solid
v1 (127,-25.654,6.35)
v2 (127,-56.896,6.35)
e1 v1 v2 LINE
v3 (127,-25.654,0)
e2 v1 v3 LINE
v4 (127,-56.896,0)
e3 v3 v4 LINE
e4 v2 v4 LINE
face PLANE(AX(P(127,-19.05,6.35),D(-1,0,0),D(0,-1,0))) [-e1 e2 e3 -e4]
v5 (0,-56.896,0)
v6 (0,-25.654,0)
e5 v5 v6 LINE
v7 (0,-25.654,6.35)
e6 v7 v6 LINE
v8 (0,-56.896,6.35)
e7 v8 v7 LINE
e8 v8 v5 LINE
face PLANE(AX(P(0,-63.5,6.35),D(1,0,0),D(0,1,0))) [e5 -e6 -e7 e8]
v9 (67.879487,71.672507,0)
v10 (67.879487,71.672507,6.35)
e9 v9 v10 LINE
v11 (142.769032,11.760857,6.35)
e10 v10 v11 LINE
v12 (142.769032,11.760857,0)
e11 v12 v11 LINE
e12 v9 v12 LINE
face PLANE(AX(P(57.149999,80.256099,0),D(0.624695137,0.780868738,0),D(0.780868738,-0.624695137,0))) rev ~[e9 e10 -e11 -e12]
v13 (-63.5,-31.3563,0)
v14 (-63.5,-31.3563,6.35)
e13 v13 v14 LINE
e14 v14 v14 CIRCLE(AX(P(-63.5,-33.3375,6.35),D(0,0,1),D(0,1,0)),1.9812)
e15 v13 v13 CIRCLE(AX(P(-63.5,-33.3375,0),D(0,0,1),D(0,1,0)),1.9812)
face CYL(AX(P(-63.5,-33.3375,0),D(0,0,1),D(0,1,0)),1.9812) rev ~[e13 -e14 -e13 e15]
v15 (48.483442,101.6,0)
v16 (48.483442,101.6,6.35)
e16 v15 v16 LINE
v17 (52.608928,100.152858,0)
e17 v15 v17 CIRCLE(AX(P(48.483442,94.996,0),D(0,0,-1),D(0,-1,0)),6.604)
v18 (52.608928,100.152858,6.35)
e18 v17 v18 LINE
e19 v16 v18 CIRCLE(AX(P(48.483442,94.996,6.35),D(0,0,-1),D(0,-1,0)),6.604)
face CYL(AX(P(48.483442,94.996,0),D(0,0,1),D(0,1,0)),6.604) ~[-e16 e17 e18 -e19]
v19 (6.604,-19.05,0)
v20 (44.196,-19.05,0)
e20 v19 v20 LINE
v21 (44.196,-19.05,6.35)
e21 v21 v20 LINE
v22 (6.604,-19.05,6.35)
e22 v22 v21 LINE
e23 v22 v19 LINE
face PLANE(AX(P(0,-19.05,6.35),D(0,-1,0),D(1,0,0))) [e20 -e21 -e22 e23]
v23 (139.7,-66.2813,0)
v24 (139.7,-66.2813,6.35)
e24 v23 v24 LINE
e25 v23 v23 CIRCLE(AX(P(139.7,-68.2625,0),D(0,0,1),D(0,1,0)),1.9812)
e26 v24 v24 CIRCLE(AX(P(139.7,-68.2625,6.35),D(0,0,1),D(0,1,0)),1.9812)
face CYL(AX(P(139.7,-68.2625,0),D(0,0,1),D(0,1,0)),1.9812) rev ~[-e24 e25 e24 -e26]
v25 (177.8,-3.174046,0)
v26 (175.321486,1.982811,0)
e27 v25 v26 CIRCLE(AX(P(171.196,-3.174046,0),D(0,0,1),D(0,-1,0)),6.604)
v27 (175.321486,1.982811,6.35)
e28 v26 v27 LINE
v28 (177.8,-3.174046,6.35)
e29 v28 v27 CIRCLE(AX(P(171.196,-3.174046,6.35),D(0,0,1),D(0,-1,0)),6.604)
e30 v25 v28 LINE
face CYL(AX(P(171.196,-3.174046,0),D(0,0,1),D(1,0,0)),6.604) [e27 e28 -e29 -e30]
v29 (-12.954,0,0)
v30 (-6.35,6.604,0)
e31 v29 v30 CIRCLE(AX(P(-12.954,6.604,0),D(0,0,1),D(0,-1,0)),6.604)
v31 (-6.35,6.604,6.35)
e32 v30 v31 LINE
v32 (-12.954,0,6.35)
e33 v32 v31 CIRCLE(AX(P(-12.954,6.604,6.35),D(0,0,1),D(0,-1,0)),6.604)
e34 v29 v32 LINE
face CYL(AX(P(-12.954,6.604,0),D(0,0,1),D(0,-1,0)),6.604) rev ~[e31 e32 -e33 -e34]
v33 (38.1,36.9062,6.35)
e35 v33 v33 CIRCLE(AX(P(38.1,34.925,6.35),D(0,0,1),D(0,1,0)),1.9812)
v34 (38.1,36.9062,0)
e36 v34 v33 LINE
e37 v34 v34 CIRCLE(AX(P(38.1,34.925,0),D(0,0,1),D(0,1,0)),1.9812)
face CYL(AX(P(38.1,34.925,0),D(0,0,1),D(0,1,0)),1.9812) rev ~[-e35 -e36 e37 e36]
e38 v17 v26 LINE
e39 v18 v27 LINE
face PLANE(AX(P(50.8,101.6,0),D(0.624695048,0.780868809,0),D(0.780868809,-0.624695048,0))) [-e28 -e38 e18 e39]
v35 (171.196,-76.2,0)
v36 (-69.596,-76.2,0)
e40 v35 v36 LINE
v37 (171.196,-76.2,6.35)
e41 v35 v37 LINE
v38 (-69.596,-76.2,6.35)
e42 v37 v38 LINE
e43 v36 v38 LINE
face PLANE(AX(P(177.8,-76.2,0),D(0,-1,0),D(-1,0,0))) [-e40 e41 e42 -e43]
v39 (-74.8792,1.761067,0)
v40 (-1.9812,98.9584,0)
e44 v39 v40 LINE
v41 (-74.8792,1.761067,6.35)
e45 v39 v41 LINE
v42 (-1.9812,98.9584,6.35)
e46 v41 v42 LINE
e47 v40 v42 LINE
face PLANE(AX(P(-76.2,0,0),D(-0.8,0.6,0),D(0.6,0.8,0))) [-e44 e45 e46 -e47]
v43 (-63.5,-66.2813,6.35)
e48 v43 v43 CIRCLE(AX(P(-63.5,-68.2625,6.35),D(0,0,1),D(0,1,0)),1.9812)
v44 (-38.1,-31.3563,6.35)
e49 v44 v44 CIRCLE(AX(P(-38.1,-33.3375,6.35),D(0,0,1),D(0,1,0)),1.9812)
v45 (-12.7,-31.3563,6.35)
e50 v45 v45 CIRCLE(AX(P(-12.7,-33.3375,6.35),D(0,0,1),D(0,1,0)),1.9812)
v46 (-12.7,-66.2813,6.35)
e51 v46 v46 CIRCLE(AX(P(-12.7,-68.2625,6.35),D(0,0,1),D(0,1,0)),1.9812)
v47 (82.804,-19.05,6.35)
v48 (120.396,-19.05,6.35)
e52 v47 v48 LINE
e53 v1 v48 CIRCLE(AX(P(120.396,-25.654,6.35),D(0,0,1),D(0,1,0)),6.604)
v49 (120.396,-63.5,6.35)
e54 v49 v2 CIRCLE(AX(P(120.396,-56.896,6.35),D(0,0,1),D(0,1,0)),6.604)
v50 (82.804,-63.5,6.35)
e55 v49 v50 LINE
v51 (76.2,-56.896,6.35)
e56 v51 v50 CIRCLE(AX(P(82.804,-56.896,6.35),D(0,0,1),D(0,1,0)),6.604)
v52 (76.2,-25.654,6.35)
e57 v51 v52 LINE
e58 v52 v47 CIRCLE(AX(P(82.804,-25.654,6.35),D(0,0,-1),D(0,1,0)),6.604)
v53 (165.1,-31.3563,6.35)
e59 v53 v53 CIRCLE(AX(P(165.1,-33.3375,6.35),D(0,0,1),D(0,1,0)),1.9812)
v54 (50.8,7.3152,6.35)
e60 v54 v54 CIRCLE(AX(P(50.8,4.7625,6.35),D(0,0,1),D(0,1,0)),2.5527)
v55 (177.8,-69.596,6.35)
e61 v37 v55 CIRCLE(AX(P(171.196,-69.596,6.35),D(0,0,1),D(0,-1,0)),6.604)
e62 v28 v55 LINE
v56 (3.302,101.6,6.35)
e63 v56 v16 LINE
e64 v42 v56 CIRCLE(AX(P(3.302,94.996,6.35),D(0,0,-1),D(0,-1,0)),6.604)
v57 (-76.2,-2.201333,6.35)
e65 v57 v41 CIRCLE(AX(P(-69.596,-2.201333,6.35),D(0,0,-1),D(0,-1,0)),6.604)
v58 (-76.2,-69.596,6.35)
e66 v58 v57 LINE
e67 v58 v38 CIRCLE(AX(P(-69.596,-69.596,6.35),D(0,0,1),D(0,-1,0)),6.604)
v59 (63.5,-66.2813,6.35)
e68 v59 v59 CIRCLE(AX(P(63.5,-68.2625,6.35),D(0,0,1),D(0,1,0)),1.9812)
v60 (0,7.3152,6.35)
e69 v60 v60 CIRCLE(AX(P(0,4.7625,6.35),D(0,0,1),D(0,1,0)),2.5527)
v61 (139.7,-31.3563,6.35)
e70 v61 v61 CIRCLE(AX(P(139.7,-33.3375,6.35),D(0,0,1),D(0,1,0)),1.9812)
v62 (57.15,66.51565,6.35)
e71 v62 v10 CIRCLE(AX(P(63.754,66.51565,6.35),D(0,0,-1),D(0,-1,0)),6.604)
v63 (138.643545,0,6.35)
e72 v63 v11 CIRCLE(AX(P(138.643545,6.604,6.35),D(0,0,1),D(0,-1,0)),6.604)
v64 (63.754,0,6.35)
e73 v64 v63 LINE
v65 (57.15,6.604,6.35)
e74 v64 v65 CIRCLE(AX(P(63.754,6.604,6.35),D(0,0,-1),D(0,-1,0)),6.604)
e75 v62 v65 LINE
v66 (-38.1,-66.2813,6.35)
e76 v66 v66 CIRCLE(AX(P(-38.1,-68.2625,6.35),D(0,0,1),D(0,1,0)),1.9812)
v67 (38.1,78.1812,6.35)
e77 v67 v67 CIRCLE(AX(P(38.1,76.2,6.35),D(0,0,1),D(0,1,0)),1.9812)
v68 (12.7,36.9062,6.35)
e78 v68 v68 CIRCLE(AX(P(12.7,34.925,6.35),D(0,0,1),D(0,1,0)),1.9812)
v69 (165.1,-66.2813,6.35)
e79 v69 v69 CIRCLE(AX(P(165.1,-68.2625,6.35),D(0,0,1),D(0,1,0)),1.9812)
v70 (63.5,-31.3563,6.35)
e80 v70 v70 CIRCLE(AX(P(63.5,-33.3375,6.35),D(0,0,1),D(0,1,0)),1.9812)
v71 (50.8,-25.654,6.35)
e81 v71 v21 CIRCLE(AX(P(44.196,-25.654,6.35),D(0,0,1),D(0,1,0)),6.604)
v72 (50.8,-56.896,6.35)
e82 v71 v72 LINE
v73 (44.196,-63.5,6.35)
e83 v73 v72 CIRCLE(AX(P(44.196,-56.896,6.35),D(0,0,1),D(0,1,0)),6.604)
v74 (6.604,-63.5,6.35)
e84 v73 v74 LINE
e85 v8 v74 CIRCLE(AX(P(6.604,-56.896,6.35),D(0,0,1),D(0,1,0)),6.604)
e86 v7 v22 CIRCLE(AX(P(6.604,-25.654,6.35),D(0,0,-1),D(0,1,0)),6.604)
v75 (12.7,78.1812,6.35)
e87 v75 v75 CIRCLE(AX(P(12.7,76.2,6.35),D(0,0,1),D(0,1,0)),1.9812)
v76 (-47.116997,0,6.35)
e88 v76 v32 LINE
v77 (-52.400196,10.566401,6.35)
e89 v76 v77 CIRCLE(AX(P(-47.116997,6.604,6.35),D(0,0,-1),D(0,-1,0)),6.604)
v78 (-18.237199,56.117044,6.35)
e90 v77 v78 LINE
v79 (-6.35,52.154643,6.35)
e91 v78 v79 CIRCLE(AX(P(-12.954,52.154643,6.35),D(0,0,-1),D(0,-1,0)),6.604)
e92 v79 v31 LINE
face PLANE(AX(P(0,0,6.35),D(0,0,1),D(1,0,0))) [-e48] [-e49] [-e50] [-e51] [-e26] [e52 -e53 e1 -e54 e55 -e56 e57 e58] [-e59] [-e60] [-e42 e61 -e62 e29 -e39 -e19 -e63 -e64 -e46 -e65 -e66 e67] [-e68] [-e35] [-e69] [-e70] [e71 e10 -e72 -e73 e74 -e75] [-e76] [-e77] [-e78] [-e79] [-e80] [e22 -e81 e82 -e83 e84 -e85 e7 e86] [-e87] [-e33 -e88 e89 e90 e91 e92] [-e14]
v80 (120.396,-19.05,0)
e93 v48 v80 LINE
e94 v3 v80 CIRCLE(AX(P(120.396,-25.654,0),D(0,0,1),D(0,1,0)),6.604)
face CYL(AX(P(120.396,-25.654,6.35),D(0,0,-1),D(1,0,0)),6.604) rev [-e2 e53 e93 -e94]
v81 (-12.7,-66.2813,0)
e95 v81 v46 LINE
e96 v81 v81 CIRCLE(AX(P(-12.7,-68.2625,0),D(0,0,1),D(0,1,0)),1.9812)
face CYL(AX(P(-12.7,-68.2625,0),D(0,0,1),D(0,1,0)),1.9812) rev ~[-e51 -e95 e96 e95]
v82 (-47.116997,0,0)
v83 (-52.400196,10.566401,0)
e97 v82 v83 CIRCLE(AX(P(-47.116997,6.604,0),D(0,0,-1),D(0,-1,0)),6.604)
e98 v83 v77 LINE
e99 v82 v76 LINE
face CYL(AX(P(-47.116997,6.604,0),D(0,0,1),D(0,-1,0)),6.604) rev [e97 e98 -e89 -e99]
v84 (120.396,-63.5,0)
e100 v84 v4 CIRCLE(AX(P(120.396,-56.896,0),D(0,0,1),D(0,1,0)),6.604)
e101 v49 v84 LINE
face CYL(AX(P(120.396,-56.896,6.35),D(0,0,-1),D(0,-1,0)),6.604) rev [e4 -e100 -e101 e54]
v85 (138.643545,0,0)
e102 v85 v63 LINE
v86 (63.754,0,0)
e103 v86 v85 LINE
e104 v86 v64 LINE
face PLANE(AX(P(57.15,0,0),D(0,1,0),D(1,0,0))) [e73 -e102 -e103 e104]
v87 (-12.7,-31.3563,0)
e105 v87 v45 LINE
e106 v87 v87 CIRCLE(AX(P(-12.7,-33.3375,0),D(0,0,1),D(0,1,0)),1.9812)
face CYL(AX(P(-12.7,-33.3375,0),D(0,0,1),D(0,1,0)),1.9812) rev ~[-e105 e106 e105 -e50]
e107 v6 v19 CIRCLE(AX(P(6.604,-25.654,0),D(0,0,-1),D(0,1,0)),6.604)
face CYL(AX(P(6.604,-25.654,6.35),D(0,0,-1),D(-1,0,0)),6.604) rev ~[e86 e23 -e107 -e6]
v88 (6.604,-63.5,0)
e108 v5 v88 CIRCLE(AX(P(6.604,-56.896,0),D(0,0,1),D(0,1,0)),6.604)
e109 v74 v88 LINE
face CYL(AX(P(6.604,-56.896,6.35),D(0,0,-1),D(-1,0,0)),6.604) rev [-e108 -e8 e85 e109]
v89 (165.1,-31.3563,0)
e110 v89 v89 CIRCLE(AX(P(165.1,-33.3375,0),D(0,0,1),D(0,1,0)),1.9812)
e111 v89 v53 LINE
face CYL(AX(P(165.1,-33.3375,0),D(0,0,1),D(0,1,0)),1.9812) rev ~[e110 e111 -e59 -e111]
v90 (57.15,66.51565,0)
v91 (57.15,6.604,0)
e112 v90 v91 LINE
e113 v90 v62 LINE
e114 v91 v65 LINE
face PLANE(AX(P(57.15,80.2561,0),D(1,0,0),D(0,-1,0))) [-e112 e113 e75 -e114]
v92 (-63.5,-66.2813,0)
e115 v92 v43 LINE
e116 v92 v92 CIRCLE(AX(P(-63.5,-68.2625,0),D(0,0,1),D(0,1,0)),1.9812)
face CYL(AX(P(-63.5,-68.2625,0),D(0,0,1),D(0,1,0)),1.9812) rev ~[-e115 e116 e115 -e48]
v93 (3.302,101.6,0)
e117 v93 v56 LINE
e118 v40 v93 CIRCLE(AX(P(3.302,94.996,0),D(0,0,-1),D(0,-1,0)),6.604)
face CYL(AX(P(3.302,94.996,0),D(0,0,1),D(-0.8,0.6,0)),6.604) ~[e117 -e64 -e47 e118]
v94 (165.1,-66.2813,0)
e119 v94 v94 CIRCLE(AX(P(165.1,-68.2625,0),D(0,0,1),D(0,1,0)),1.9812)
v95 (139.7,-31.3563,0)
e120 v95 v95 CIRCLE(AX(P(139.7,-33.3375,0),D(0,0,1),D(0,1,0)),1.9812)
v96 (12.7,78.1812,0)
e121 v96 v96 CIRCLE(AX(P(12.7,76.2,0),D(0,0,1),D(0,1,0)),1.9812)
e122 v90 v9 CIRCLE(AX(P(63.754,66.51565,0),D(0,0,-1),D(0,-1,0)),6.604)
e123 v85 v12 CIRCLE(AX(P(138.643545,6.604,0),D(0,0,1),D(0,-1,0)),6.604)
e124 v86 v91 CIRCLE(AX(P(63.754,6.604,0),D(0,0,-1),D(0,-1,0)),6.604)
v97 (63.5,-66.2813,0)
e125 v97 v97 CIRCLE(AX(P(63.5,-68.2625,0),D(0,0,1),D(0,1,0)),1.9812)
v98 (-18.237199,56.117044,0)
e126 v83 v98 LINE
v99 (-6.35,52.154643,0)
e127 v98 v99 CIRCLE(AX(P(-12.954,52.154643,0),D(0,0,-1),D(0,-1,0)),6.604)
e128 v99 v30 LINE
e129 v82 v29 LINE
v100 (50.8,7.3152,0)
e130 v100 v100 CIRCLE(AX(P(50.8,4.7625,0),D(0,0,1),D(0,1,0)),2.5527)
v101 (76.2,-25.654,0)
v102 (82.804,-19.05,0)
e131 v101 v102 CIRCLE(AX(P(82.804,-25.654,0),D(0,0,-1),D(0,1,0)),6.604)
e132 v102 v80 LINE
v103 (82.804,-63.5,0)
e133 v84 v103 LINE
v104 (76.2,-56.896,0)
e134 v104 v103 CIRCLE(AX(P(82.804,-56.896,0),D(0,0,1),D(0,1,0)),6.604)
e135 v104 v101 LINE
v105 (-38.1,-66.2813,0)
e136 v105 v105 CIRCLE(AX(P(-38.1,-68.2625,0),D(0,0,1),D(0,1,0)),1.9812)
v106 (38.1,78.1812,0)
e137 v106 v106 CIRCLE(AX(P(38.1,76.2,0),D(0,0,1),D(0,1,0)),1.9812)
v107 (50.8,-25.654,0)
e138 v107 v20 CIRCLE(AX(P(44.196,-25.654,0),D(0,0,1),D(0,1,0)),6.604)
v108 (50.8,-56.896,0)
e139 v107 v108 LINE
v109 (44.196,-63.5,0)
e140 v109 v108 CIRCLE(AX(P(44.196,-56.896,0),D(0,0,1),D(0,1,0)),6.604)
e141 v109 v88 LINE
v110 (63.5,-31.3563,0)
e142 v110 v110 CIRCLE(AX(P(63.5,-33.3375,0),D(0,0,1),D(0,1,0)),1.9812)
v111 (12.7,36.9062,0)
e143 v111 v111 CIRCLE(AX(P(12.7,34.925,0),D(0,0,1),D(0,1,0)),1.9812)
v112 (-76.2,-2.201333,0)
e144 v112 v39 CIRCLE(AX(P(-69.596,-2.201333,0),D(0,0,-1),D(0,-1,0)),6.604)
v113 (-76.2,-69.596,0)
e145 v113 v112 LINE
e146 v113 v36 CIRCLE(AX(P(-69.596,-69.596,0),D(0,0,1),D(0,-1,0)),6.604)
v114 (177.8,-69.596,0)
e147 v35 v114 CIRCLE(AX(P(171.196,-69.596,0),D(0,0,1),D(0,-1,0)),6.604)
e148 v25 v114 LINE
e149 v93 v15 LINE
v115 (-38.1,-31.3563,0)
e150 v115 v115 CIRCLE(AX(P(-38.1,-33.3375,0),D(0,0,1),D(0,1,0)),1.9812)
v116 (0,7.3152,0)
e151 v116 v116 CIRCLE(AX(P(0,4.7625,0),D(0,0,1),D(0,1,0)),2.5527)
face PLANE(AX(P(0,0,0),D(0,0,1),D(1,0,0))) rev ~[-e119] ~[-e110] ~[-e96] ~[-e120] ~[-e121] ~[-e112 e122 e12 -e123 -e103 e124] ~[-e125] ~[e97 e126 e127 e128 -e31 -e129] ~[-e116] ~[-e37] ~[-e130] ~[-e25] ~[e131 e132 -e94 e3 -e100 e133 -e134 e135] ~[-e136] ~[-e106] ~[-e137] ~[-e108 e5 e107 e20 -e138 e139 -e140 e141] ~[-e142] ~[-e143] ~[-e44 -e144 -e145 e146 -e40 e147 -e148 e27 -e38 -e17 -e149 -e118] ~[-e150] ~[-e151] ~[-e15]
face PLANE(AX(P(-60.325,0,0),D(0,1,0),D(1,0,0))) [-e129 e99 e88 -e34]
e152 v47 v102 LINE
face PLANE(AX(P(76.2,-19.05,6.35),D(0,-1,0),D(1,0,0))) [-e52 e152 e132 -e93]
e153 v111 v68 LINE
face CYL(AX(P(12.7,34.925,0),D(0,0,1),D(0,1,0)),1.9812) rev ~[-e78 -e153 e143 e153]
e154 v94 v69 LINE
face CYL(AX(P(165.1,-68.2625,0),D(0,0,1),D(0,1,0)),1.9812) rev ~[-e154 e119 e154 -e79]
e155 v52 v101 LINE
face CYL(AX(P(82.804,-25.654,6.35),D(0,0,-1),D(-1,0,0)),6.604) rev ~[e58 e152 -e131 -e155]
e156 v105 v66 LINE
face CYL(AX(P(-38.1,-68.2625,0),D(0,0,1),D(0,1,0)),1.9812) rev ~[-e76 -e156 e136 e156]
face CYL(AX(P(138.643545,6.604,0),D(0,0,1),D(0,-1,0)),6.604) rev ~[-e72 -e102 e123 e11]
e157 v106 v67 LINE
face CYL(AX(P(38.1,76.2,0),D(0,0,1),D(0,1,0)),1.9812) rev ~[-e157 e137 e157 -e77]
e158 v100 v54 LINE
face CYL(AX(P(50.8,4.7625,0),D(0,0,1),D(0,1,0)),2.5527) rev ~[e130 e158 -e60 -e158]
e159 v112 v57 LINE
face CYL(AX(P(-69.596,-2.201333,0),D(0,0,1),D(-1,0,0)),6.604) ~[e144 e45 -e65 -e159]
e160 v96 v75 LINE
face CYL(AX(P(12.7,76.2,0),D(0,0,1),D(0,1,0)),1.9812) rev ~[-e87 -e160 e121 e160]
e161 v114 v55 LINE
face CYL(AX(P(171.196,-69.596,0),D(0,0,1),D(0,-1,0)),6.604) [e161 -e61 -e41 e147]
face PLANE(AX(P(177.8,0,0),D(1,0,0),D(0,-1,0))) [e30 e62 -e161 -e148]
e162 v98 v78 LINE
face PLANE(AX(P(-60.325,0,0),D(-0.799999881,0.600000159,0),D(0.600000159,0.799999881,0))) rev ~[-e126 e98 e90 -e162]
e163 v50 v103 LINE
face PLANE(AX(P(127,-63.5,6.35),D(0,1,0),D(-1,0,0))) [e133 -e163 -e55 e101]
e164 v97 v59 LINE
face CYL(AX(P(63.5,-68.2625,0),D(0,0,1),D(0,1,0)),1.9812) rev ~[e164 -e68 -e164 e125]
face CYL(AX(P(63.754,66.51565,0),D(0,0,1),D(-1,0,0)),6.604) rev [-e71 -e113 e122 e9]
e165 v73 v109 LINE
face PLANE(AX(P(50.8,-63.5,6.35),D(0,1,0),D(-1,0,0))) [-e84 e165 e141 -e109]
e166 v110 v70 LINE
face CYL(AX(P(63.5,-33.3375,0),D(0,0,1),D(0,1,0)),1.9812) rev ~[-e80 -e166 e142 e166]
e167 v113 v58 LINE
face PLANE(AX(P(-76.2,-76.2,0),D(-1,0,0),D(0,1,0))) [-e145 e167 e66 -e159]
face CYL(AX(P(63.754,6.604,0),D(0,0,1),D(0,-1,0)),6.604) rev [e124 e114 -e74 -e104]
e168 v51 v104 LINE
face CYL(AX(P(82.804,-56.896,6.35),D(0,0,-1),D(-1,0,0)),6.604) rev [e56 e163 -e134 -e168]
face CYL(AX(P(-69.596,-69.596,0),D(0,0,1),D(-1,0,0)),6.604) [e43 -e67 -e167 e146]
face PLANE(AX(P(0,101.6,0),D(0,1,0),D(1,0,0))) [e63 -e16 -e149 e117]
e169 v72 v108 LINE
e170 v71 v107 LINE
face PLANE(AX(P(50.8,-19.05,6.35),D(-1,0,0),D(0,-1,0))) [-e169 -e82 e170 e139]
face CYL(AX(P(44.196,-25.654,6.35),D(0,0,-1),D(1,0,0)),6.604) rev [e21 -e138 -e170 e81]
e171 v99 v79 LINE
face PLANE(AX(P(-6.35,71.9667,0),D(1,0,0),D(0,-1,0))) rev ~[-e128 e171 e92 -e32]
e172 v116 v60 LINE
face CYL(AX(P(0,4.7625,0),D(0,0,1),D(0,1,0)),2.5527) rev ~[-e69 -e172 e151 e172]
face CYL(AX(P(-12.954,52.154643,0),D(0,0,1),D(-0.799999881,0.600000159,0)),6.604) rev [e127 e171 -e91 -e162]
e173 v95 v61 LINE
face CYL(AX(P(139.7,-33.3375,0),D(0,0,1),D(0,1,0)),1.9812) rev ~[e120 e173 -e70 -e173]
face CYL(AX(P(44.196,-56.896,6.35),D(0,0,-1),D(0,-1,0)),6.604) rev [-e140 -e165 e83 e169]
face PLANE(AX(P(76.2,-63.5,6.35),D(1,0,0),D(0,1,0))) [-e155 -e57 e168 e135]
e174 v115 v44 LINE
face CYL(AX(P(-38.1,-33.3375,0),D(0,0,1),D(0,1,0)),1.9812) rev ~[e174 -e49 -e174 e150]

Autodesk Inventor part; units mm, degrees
ref_plane "YZ Plane" through (0, 0, 0) normal (1, 0, 0) x (0, 1, 0)
ref_plane "XZ Plane" through (0, 0, 0) normal (0, 1, 0) x (-1, 0, 0)
ref_plane "XY Plane" through (0, 0, 0) normal (0, 0, 1) x (1, 0, 0)
sketch "Sketch1" plane through (0, 0, 0) normal (0, 0, 1) x (1, 0, 0)
  line L0 (0, 0) -> (50.8, 0) construction
  line L1 (50.8, 0) -> (50.8, 203.2) construction
  line L2 (50.8, 203.2) -> (0, 203.2) construction
  line L3 (0, 203.2) -> (0, 0) construction
  line L4 (-76.2, 0) -> (177.8, 0) construction
  line L5 (177.8, 0) -> (177.8, -76.2) construction
  line L6 (177.8, -76.2) -> (-76.2, -76.2) construction
  line L7 (-76.2, -76.2) -> (-76.2, 0) construction
  line L8 (165.1, -33.3375) -> (165.1, -68.2625) construction
  circle A0 centre (165.1, -33.3375) radius 4.7625 construction
  line L9 (174.625, -3.175) -> (-73.025, -3.175) construction
  line L10 (-73.025, -3.175) -> (-73.025, -73.025) construction
  line L11 (-73.025, -73.025) -> (174.625, -73.025) construction
  line L12 (174.625, -73.025) -> (174.625, -3.175) construction
  circle A1 centre (165.1, -68.2625) radius 4.7625 construction
  line L13 (-76.2, -76.2) -> (-76.2, 0)
  line L14 (-76.2, 0) -> (0, 101.6)
  line L15 (0, 101.6) -> (50.8, 101.6)
  line L16 (50.8, 101.6) -> (177.8, 0)
  line L17 (177.8, 0) -> (177.8, -76.2)
  line L18 (177.8, -76.2) -> (-76.2, -76.2)
  line L19 (50.8, 101.6) -> (50.8, 0) construction
  line L20 (50.8, 0) -> (177.8, 0) construction
  line L21 (0, 101.6) -> (0, 0) construction
  line L22 (0, 0) -> (-76.2, 0) construction
  line L23 (60.325, 9.525) -> (60.325, 77.7161) construction
  line L24 (50.8, 85.3361) -> (157.4701, 0)
  line L25 (145.5638, 9.525) -> (60.325, 9.525) construction
  line L26 (-60.325, 0) -> (0, 80.4333)
  line L27 (-9.525, 67.7333) -> (-9.525, 9.525) construction
  line L28 (-9.525, 9.525) -> (-53.1813, 9.525) construction
  line L29 (-60.325, 0) -> (0, 0)
  line L30 (0, 80.4333) -> (0, 0)
  line L31 (50.8, 85.3361) -> (50.8, 0)
  line L32 (50.8, 0) -> (157.4701, 0)
  line L33 (-9.525, 9.525) -> (-9.525, 0) construction
  line L34 (0, 4.7625) -> (50.8, 4.7625) construction
  line L35 (12.7, 34.925) -> (38.1, 34.925) construction
  line L36 (-6.35, 71.9667) -> (-6.35, 0)
  line L37 (57.15, 80.2561) -> (57.15, 0)
  point P0 (152.4, -50.8)
  point P1 (165.1, -50.8)
  point P2 (139.7, -68.2625)
  point P3 (139.7, -33.3375)
  point P4 (127, -50.8)
  point P5 (114.3, -68.2625)
  point P6 (114.3, -33.3375)
  point P7 (101.6, -50.8)
  point P8 (88.9, -68.2625)
  point P9 (88.9, -33.3375)
  point P10 (76.2, -50.8)
  point P11 (63.5, -68.2625)
  point P12 (63.5, -33.3375)
  point P13 (50.8, -50.8)
  point P14 (38.1, -68.2625)
  point P15 (38.1, -33.3375)
  point P16 (25.4, -50.8)
  point P17 (12.7, -68.2625)
  point P18 (12.7, -33.3375)
  point P19 (0, -50.8)
  point P20 (-12.7, -68.2625)
  point P21 (-12.7, -33.3375)
  point P22 (-25.4, -50.8)
  point P23 (-38.1, -68.2625)
  point P24 (-38.1, -33.3375)
  point P25 (-50.8, -50.8)
  point P26 (-63.5, -68.2625)
  point P27 (-63.5, -33.3375)
  point P28 (-76.2, -50.8)
  point P29 (12.7, 76.2)
  point P30 (38.1, 76.2)
  point P31 (-9.525, 4.7625)
  point P32 (25.4, 4.7625)
  point P33 (25.4, 34.925)
  dimension "d0" = 50.8
  dimension "d1" = 203.2
  dimension "d2" = 254
  dimension "d3" = 76.2
  dimension "d4" = 127
  dimension "d5" = 12.7
  dimension "d6" = 12.7
  dimension "d7" = 9.525
  dimension "d8" = 3.175
  dimension "d9" = 9.525
  dimension "d12" = 25.4
  dimension "d17" = 25.4
  dimension "d18" = 34.925
  dimension "d19" = 25.4
  dimension "d20" = 12.7
  dimension "d21" = 9.525
  dimension "d22" = 9.525
  dimension "d32" = 111.125
  dimension "d33" = 41.275
  dimension "d35" = 12.7
  dimension "d36" = 12.7
  dimension "d37" = 9.525
  dimension "d38" = 50.8
  dimension "d39" = 34.925
  dimension "d40" = 6.35
  dimension "d41" = 6.35
extrude "Extrusion1" add sketch "Sketch1" along normal blind 6.35 contours L13 L14 L15 L16 L17 L18 | L24 L37 L32 L31 | L26 L30 L29 L36
hole "Hole1" at (165.1, -33.3375, 0) at (165.1, -68.2625, 0) at (139.7, -68.2625, 0) at (139.7, -33.3375, 0) at (-38.1, -33.3375, 0) at (-63.5, -68.2625, 0) at (-63.5, -33.3375, 0) at (12.7, 76.2, 0) at (38.1, 76.2, 0) at (38.1, 34.925, 0) at (12.7, 34.925, 0) at (-38.1, -68.2625, 0) at (-12.7, -33.3375, 0) at (-12.7, -68.2625, 0) at (63.5, -33.3375, 0) at (63.5, -68.2625, 0) direction (0, 0, 1) diameter 3.9624 end through all thread size "10-32 UNF" class "2B" standard "ANSI Unified Screw Threads"
fillet "Fillet1" radius 6.604 12 edges at (50.8, 101.6, 3.175) (0, 101.6, 3.175) (177.8, 0, 3.175) (-76.2, 0, 3.175) (-76.2, -76.2, 3.175) (177.8, -76.2, 3.175) (-60.325, 0, 3.175) (157.4701, 0, 3.175) (-6.35, 0, 3.175) (57.15, 0, 3.175) (57.15, 80.2561, 3.175) (-6.35, 71.9667, 3.175)
sketch "Sketch2" plane through (0, 0, 6.35) normal (0, 0, 1) x (1, 0, 0)
  line L0 (0, -19.05) -> (50.8, -19.05)
  line L1 (50.8, -19.05) -> (50.8, -63.5)
  line L2 (50.8, -63.5) -> (0, -63.5)
  line L3 (0, -63.5) -> (0, -19.05)
  arc A0 (-6.35, 52.1547) -> (-18.2372, 56.1171) centre (-12.954, 52.1547) ccw projected
  line L4 (-18.2372, 56.1171) -> (-52.4002, 10.5664) projected
  arc A1 (-52.4002, 10.5664) -> (-47.117, 0) centre (-47.117, 6.604) ccw projected
  line L5 (-47.117, 0) -> (-12.954, 0) projected
  arc A2 (-12.954, 0) -> (-6.35, 6.604) centre (-12.954, 6.604) ccw projected
  line L6 (-6.35, 6.604) -> (-6.35, 52.1547) projected
  arc A3 (57.15, 6.604) -> (63.754, 0) centre (63.754, 6.604) ccw projected
  line L7 (63.754, 0) -> (138.6435, 0) projected
  arc A4 (138.6435, 0) -> (142.769, 11.7609) centre (138.6435, 6.604) ccw projected
  line L8 (142.769, 11.7609) -> (67.8795, 71.6725) projected
  arc A5 (67.8795, 71.6725) -> (57.15, 66.5156) centre (63.754, 66.5156) ccw projected
  line L9 (57.15, 66.5156) -> (57.15, 6.604) projected
  arc A6 (3.302, 101.6) -> (-1.9812, 98.9584) centre (3.302, 94.996) ccw projected
  line L10 (3.302, 101.6) -> (48.4834, 101.6) projected
  arc A7 (52.6089, 100.1529) -> (48.4834, 101.6) centre (48.4834, 94.996) ccw projected
  line L11 (52.6089, 100.1529) -> (175.3215, 1.9828) projected
  arc A8 (177.8, -3.174) -> (175.3215, 1.9828) centre (171.196, -3.174) ccw projected
  line L12 (177.8, -3.174) -> (177.8, -69.596) projected
  arc A9 (171.196, -76.2) -> (177.8, -69.596) centre (171.196, -69.596) ccw projected
  line L13 (171.196, -76.2) -> (-69.596, -76.2) projected
  arc A10 (-76.2, -69.596) -> (-69.596, -76.2) centre (-69.596, -69.596) ccw projected
  line L14 (-76.2, -69.596) -> (-76.2, -2.2013) projected
  arc A11 (-74.8792, 1.7611) -> (-76.2, -2.2013) centre (-69.596, -2.2013) ccw projected
  line L15 (-74.8792, 1.7611) -> (-1.9812, 98.9584) projected
  circle A12 centre (12.7, 34.925) radius 1.9812 projected
  circle A13 centre (38.1, 76.2) radius 1.9812 projected
  circle A14 centre (-63.5, -33.3375) radius 1.9812 projected
  circle A15 centre (-38.1, -33.3375) radius 1.9812 projected
  circle A16 centre (139.7, -68.2625) radius 1.9812 projected
  circle A17 centre (165.1, -33.3375) radius 1.9812 projected
  circle A18 centre (165.1, -68.2625) radius 1.9812 projected
  circle A19 centre (139.7, -33.3375) radius 1.9812 projected
  circle A20 centre (-63.5, -68.2625) radius 1.9812 projected
  circle A21 centre (12.7, 76.2) radius 1.9812 projected
  circle A22 centre (38.1, 34.925) radius 1.9812 projected
  circle A23 centre (-38.1, -68.2625) radius 1.9812 projected
  circle A24 centre (-12.7, -68.2625) radius 1.9812 projected
  circle A25 centre (-12.7, -33.3375) radius 1.9812 projected
  line L16 (76.2, -19.05) -> (127, -19.05)
  line L17 (127, -19.05) -> (127, -63.5)
  line L18 (127, -63.5) -> (76.2, -63.5)
  line L19 (76.2, -63.5) -> (76.2, -19.05)
  circle A26 centre (63.5, -33.3375) radius 1.9812 projected
  circle A27 centre (63.5, -68.2625) radius 1.9812 projected
  point P0 (0, 0)
  dimension "d44" = 12.7
  dimension "d45" = 19.05
  dimension "d49" = 12.7
  dimension "d52" = 12.7
  dimension "d53" = 12.7
  dimension "d54" = 12.7
extrude "Extrusion2" cut sketch "Sketch2" against normal blind 25.4 contours L0 L1 L2 L3 | L16 L17 L18 L19
fillet "Fillet2" radius 6.604 8 edges at (0, -63.5, 3.175) (0, -19.05, 3.175) (50.8, -63.5, 3.175) (50.8, -19.05, 3.175) (76.2, -63.5, 3.175) (76.2, -19.05, 3.175) (127, -19.05, 3.175) (127, -63.5, 3.175)
hole "Hole2" at (114.3, -33.3375, 0) at (101.6, -50.8, 0) at (88.9, -33.3375, 0) at (38.1, -33.3375, 0) at (25.4, -50.8, 0) at (12.7, -33.3375, 0) at (0, 4.7625, 0) at (50.8, 4.7625, 0) direction (0, 0, 1) diameter 5.1054 end through all clearance for "Flat Head Machine Screw (82)" size "#10" standard "Ansi Unified Screw Threads"
equation "\"d52\" = d51"
equation "\"d53\" = d49"
equation "\"d54\" = d53"
equation "\"d51\" = 12.7"
properties part number "EL2-S-002" material "Aluminum 6061"
